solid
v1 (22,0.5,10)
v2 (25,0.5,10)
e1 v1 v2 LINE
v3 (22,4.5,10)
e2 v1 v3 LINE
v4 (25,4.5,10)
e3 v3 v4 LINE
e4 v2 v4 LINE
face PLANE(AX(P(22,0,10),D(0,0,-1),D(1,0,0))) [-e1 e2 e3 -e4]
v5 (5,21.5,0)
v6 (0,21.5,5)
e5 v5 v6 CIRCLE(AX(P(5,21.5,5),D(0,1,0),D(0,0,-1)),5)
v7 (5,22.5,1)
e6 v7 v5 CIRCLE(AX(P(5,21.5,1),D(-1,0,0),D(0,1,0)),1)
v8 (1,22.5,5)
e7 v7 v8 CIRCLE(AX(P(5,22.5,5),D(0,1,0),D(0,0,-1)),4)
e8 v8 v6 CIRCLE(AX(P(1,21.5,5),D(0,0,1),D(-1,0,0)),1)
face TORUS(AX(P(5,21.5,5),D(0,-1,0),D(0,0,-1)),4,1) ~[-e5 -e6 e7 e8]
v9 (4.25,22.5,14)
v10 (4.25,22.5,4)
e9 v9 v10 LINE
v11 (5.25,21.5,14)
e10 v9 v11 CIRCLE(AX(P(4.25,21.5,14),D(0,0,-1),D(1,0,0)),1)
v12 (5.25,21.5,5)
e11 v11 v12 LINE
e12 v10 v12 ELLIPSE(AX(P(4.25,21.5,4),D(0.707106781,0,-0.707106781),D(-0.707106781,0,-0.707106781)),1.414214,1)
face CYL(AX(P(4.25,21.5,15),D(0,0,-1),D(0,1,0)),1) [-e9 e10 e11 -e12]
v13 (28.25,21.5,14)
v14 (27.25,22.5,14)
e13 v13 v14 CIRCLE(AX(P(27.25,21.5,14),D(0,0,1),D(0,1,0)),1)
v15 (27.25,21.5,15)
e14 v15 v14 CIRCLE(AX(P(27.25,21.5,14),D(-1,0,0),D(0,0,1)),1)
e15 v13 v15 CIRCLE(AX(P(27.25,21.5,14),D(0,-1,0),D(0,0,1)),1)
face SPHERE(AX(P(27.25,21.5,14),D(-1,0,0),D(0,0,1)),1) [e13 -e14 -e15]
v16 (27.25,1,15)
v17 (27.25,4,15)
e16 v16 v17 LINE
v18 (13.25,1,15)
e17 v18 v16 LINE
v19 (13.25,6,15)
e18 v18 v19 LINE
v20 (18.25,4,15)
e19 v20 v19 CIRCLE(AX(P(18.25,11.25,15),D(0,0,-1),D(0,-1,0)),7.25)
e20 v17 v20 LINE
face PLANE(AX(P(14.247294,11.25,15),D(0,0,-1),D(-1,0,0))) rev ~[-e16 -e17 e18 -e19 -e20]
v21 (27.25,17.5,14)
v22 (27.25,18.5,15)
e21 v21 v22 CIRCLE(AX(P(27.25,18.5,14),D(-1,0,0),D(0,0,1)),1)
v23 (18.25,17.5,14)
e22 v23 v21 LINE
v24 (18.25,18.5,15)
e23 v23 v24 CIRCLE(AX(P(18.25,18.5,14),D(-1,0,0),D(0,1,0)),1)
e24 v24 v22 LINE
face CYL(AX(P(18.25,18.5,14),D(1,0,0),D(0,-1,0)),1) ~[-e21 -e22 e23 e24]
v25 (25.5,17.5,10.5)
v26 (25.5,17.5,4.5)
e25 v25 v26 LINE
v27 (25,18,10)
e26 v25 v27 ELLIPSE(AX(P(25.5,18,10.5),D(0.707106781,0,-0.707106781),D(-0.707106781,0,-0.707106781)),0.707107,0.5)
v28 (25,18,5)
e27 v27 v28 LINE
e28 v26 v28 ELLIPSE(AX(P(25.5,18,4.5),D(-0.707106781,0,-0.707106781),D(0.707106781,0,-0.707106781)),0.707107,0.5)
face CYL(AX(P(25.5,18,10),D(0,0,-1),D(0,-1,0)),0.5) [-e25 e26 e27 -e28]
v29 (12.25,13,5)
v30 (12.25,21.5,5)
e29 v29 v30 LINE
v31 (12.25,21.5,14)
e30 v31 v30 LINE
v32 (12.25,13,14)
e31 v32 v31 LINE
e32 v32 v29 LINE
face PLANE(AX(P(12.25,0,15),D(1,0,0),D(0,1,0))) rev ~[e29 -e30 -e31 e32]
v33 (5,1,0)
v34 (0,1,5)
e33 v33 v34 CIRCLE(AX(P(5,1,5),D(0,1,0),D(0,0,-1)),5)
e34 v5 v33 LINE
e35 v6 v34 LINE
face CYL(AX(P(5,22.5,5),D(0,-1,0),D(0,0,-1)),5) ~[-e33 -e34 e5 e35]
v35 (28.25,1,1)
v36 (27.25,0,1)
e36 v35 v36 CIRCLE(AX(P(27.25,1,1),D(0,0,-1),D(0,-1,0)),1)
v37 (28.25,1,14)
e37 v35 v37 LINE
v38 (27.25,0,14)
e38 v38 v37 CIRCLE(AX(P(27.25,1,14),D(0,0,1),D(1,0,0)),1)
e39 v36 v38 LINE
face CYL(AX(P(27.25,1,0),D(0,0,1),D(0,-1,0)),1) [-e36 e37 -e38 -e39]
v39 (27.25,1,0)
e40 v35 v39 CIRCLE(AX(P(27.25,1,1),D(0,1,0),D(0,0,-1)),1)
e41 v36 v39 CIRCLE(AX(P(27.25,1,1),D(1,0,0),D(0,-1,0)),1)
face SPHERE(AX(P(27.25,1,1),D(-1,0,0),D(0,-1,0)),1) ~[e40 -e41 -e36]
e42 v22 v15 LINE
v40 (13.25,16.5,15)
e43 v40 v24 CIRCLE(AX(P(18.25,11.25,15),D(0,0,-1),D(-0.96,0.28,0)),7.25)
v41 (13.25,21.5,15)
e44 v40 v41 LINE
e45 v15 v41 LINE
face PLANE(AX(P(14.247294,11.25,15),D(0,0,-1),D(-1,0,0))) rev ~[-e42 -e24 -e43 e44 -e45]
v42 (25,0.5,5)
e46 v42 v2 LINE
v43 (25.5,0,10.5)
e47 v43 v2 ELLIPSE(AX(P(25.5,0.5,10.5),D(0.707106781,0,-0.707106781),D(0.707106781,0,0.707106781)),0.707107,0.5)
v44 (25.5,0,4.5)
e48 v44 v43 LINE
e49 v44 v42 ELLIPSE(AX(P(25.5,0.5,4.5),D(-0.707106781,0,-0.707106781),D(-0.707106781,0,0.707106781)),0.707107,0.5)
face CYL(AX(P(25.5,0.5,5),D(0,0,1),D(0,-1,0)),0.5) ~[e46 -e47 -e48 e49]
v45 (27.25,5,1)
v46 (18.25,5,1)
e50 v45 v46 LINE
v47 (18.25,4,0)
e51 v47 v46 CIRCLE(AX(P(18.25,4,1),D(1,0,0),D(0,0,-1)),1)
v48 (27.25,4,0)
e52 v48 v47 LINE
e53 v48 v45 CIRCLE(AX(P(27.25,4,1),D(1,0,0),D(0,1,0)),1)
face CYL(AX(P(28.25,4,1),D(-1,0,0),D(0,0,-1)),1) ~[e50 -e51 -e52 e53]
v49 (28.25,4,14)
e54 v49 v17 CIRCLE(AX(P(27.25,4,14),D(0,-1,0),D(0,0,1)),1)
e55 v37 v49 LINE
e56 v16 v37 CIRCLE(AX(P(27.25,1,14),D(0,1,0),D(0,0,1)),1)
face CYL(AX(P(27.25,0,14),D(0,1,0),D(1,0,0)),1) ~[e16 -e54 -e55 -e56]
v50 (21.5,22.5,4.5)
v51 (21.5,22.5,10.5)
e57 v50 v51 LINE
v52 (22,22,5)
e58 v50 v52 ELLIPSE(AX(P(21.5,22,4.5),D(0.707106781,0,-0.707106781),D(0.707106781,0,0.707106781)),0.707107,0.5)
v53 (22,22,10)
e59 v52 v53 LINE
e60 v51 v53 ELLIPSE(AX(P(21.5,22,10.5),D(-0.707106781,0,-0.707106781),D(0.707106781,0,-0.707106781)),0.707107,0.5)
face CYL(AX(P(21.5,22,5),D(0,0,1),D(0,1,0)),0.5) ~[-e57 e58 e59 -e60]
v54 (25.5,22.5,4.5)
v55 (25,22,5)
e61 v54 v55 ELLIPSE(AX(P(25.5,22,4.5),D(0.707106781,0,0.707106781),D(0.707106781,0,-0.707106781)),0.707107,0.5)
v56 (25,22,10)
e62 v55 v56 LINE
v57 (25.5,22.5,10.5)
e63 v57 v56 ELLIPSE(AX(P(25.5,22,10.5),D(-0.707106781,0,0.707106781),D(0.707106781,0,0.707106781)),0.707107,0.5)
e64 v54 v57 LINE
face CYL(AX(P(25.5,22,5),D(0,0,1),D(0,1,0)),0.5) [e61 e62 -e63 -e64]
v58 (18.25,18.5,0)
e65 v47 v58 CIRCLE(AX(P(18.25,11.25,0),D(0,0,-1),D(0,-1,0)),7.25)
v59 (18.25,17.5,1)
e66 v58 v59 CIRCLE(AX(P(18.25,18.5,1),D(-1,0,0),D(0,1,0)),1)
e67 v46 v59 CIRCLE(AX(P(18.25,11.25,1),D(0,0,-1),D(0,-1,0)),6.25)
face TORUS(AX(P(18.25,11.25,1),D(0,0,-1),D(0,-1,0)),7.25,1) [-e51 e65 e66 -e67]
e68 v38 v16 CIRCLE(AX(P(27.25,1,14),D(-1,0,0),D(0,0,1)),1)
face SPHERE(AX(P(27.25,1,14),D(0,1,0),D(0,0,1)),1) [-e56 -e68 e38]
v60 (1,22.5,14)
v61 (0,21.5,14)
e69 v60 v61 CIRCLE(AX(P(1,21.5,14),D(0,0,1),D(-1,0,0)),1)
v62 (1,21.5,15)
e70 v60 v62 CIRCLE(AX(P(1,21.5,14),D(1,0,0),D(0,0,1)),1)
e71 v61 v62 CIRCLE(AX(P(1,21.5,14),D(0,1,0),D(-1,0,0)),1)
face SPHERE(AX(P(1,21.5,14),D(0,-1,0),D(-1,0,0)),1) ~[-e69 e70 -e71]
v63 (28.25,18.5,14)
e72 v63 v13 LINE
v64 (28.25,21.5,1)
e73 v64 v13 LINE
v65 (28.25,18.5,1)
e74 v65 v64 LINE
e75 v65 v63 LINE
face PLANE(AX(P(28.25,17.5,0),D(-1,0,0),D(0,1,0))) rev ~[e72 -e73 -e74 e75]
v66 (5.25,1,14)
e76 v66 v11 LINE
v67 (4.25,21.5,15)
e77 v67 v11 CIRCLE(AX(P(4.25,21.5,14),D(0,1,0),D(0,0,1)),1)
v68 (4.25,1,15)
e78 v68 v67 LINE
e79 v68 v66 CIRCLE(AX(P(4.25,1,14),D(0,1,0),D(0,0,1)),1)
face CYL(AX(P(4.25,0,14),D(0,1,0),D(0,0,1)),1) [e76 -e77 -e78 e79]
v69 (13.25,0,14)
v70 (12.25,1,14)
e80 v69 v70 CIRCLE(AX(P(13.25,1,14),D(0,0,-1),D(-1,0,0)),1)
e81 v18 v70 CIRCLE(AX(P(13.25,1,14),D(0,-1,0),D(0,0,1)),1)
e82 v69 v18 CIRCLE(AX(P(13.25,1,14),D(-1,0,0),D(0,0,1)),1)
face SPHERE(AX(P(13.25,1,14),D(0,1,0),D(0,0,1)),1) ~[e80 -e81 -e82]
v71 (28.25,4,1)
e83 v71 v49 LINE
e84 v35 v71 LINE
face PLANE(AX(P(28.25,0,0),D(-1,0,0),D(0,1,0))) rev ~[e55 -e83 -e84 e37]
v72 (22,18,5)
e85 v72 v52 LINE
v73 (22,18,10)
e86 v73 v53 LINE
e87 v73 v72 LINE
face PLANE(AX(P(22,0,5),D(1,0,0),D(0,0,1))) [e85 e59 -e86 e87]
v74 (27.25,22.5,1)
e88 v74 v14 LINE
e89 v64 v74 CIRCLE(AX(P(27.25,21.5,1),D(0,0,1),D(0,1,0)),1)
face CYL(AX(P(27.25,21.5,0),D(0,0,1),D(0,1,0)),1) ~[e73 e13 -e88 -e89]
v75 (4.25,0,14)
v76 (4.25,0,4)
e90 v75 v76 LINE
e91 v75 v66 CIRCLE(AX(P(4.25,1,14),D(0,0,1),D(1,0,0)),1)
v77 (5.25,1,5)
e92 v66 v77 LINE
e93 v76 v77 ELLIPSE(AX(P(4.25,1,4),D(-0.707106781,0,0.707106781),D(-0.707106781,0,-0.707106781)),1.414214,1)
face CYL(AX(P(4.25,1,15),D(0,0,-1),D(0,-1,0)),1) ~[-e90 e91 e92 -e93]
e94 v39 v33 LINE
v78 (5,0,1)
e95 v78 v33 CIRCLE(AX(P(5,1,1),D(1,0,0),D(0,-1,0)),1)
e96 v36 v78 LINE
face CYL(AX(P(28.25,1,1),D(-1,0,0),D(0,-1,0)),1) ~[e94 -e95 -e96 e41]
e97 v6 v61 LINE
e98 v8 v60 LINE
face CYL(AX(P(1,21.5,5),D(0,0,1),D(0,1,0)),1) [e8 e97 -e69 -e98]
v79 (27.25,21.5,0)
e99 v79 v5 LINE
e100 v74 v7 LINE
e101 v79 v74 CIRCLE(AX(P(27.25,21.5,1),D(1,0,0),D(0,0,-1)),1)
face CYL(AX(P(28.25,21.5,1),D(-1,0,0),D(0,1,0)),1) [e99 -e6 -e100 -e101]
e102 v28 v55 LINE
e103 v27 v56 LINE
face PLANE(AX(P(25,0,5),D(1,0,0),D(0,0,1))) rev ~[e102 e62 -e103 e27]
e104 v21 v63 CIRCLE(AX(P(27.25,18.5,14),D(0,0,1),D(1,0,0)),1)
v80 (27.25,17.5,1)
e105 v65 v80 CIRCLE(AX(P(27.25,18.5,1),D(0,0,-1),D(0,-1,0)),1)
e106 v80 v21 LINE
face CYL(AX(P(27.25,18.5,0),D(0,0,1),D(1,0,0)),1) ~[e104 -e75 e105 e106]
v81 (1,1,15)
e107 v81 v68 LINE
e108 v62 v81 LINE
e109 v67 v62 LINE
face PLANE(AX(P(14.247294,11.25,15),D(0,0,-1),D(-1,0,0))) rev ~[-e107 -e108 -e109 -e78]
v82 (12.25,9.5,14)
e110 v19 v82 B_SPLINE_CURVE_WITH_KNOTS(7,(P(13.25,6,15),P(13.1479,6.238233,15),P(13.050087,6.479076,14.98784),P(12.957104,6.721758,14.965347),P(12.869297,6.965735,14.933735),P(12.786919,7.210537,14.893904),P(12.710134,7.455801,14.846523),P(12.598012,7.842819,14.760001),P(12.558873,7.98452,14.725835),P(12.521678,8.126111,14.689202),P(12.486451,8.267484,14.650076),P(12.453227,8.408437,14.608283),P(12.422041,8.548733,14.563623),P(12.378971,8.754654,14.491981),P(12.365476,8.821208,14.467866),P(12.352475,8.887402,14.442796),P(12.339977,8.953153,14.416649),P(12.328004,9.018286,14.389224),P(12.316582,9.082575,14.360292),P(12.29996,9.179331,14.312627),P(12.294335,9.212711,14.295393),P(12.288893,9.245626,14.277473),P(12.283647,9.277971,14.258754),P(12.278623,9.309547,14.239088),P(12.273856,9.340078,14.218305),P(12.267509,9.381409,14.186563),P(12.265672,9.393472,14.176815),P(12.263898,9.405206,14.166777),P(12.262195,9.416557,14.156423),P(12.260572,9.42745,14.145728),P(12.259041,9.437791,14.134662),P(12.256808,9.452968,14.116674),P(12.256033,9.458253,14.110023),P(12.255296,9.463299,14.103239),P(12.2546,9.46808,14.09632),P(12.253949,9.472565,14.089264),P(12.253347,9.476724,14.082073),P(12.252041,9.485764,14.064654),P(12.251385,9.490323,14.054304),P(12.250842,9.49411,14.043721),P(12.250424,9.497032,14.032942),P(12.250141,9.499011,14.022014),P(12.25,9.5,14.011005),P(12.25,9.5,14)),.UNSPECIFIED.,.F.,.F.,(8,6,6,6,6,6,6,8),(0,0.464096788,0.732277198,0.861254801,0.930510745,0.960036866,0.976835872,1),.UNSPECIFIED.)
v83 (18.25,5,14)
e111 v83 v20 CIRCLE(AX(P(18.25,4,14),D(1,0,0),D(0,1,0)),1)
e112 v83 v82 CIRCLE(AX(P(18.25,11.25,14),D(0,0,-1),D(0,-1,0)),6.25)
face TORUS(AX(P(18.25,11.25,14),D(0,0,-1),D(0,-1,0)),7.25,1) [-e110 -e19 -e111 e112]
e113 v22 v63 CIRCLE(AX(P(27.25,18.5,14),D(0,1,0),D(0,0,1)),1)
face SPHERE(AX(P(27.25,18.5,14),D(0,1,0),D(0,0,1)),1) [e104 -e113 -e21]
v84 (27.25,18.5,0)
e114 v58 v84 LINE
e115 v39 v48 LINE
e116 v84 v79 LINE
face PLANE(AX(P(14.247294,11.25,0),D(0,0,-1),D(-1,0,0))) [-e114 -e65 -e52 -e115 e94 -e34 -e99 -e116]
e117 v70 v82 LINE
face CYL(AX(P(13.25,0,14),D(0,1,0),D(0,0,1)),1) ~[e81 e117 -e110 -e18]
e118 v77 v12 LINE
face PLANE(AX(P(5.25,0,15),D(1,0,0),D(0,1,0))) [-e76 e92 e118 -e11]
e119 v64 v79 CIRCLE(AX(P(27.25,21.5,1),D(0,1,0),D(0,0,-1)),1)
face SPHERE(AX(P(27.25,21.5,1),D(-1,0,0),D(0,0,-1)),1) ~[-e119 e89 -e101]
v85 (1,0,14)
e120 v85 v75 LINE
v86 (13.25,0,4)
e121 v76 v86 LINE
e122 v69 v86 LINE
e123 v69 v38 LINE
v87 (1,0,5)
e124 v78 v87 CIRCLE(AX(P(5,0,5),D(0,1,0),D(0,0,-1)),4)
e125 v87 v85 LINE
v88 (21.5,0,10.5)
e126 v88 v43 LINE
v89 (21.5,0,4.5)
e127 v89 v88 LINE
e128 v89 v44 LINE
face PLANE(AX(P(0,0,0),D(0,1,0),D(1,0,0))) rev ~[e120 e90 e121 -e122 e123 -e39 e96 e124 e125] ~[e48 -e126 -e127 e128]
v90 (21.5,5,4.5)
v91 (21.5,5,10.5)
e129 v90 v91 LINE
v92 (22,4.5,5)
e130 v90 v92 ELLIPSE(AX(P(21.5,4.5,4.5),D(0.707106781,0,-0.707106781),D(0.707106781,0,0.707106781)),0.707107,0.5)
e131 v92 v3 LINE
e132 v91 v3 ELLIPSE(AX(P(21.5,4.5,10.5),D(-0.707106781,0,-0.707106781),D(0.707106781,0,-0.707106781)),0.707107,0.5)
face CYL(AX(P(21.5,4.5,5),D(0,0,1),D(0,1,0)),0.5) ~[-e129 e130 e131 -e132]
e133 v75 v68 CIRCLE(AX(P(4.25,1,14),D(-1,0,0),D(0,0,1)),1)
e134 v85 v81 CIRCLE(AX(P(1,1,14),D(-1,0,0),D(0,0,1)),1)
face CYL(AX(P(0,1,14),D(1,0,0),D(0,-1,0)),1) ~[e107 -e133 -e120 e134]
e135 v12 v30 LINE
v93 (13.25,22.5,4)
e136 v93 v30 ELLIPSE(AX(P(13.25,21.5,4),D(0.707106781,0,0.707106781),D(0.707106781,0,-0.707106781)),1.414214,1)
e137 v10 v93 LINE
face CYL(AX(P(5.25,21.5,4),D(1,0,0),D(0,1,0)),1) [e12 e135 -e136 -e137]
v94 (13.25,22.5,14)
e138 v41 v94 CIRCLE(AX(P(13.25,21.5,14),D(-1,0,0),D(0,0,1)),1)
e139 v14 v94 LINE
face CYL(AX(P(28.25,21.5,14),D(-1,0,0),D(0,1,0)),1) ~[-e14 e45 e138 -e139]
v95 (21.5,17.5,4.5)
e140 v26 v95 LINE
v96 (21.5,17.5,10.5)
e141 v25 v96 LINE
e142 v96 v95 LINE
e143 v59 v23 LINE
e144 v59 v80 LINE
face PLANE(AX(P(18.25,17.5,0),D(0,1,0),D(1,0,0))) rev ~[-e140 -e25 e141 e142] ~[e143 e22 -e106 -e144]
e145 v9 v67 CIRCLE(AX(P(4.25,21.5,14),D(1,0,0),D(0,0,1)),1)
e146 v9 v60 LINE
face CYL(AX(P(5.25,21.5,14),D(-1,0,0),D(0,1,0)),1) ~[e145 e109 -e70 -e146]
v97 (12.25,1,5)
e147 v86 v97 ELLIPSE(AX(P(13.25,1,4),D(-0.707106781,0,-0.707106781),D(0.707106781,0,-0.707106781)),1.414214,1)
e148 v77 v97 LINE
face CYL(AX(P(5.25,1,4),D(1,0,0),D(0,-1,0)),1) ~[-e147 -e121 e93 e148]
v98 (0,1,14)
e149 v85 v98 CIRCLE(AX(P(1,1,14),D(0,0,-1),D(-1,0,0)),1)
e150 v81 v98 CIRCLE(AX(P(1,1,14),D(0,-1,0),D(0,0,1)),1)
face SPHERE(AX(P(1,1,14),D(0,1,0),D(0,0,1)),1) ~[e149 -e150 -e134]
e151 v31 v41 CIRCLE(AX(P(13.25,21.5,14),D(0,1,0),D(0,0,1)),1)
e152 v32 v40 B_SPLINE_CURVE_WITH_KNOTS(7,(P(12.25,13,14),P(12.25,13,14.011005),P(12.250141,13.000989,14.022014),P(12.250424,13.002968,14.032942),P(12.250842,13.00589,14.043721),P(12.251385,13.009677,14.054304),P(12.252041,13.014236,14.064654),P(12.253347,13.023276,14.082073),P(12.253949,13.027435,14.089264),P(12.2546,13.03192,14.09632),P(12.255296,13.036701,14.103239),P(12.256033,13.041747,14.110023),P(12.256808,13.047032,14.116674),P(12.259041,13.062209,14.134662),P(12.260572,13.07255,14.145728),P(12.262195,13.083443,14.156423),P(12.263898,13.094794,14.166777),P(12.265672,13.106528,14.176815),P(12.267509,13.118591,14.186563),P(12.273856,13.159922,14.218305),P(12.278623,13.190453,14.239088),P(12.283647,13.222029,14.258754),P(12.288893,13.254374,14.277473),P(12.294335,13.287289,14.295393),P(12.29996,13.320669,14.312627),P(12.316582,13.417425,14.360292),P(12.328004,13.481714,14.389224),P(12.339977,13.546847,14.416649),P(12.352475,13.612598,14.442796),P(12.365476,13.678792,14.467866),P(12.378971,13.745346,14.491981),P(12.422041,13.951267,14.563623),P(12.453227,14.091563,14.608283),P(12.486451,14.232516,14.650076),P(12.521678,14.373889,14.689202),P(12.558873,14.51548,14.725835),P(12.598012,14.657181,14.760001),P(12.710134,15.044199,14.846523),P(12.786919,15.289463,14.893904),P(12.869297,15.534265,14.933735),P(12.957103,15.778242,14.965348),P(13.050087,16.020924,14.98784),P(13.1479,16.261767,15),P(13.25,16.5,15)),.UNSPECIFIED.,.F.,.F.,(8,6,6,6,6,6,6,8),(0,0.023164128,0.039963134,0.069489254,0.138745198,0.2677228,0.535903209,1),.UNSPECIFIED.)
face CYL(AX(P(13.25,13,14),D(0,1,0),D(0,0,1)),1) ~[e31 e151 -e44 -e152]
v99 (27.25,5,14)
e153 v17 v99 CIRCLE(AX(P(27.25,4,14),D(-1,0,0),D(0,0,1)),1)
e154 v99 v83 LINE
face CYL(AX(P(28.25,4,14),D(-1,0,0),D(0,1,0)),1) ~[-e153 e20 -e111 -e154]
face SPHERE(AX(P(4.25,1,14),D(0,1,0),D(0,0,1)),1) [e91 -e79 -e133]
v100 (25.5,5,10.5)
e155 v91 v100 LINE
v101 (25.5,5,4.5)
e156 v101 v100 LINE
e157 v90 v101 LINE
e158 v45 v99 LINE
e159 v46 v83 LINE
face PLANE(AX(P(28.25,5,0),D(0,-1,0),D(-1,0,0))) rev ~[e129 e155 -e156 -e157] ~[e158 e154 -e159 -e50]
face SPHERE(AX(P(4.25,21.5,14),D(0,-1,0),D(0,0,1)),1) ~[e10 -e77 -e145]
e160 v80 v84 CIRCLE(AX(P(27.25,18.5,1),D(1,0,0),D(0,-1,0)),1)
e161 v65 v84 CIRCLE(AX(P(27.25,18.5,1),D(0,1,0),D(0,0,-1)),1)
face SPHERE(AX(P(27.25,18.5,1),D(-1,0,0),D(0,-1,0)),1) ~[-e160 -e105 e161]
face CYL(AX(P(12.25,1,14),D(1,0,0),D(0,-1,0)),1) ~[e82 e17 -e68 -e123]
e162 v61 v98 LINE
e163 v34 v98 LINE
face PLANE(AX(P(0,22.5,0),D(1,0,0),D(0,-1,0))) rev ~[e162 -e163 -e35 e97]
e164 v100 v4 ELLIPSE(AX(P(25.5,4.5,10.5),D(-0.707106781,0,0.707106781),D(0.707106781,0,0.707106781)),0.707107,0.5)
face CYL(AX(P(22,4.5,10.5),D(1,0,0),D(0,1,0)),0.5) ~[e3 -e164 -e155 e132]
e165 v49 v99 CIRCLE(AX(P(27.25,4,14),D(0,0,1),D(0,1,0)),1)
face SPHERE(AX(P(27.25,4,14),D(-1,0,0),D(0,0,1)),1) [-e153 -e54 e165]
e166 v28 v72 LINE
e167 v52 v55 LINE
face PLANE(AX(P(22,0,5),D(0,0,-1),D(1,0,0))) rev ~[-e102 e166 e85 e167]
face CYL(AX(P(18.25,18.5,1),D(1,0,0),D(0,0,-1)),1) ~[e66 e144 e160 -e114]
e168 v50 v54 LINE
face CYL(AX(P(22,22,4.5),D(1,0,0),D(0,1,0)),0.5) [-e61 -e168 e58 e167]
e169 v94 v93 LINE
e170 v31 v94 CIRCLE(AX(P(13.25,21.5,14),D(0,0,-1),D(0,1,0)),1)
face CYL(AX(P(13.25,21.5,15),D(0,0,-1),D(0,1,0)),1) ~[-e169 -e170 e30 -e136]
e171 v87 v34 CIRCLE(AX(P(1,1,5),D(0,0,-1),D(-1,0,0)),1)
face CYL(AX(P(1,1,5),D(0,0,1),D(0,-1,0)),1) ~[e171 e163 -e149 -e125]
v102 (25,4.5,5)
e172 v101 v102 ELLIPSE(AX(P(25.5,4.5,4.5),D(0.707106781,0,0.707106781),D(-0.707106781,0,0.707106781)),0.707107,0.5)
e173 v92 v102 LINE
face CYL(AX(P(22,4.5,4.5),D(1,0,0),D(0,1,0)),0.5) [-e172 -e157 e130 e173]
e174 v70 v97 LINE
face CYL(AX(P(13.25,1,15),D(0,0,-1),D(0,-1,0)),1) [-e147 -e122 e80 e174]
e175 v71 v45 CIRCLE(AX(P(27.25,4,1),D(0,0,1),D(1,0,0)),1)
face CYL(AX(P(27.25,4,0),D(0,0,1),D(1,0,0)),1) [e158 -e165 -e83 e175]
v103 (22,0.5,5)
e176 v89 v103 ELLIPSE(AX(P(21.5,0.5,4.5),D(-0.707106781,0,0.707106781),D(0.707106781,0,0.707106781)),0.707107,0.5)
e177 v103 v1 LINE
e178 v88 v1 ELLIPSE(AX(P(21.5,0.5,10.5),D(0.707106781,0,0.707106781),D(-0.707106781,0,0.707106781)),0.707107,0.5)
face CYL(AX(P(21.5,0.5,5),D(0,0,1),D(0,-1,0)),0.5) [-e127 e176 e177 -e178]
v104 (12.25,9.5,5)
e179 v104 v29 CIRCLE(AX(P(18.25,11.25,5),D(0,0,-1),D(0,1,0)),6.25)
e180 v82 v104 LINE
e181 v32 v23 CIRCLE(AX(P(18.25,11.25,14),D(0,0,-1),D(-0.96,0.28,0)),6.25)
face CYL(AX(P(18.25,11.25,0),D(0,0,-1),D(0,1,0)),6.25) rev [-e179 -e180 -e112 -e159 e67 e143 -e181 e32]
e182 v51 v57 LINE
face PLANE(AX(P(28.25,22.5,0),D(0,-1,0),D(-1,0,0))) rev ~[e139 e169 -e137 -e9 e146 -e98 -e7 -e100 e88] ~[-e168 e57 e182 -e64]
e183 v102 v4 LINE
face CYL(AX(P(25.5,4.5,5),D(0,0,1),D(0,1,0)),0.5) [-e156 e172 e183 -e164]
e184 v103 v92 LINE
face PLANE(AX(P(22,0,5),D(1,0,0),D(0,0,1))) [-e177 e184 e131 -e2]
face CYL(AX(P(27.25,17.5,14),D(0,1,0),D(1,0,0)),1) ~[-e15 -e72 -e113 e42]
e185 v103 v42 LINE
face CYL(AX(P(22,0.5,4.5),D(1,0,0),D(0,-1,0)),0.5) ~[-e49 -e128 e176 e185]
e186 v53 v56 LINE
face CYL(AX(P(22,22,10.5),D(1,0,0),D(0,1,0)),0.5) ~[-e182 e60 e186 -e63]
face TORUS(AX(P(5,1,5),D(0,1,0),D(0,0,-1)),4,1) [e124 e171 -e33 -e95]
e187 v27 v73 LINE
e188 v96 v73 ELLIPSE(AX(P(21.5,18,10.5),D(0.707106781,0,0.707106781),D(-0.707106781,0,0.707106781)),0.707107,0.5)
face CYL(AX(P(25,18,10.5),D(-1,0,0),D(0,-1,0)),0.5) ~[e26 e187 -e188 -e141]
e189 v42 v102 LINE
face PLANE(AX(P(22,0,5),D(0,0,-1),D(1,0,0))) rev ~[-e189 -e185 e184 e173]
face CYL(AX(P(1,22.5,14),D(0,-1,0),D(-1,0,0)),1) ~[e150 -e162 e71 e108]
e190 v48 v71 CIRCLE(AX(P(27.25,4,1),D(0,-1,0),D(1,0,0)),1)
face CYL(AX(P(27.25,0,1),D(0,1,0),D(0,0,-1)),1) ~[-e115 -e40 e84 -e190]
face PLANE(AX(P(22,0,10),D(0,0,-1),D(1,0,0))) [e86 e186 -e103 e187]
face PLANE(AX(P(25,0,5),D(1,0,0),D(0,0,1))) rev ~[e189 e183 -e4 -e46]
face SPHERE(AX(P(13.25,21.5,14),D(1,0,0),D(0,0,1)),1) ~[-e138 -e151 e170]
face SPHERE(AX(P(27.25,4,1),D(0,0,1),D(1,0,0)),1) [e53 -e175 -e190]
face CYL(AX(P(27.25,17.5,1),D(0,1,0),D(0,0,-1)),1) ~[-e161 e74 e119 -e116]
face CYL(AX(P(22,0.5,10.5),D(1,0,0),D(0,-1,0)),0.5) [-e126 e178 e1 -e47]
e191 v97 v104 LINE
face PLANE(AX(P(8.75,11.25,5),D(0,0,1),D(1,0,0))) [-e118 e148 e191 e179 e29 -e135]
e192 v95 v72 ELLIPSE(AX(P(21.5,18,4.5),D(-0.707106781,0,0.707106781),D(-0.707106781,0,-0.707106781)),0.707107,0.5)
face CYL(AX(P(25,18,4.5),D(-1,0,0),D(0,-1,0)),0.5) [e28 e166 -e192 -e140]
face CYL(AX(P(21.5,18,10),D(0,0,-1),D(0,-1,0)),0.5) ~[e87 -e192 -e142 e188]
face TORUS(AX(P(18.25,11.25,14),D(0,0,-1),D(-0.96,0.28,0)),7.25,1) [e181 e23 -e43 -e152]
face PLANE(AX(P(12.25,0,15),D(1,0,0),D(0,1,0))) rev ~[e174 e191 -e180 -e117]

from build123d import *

# Parameters (mm, degrees)
PAD_DEPTH       = 15
SKETCH001_W     = 7
SKETCH001_H     = 22.5
POCKET_DEPTH    = 10
SKETCH003_W     = 3
SKETCH003_H     = 5
POCKET001_DEPTH = 22.501
FILLET_R        = 5
FILLET001_R     = 1
FILLET002_R     = 0.5


with BuildPart() as part:
    # Sketch → Pad (new body)
    with BuildSketch(Plane.XY):
        with BuildLine():
            ThreePointArc((18.25, 17.5), (12, 11.25), (18.25, 5))
            Line((28.25, 5), (18.25, 5))
            Line((28.25, 0), (28.25, 5))
            Line((0, 0), (28.25, 0))
            Line((0, 22.5), (0, 0))
            Line((28.25, 22.5), (0, 22.5))
            Line((28.25, 17.5), (28.25, 22.5))
            Line((18.25, 17.5), (28.25, 17.5))
        make_face()
    extrude(amount=PAD_DEPTH)

    # Sketch001 (on Face10 of Pad) → Pocket (cut)
    with BuildSketch(Plane.XY.offset(15)):
        with Locations((8.75, 11.25)):
            Rectangle(SKETCH001_W, SKETCH001_H)
    extrude(amount=-POCKET_DEPTH, mode=Mode.SUBTRACT)

    # Sketch003 → Pocket001 (cut, through all)
    with BuildSketch(Plane.XZ):
        with Locations((23.5, 7.5)):
            Rectangle(SKETCH003_W, SKETCH003_H)
    extrude(amount=-POCKET001_DEPTH, mode=Mode.SUBTRACT)

    # Fillet
    fillet_edges = [part.edges().sort_by_distance(p)[0] for p in [
        (0, 11.25, 0),
    ]]
    fillet(fillet_edges, radius=FILLET_R)

    # Fillet001
    fillet001_edges = [part.edges().sort_by_distance(p)[0] for p in [
        (0, 11.25, 15),
        (5.25, 11.25, 15),
        (2.625, 0, 15),
        (0, 0, 10),
        (0, 22.5, 10),
        (2.625, 22.5, 15),
        (20.25, 22.5, 15),
        (28.25, 20, 15),
        (23.25, 17.5, 15),
        (14.5, 16.25, 15),
        (12.25, 17.75, 15),
        (12.25, 4.75, 15),
        (23.25, 5, 15),
        (14.5, 6.25, 15),
        (28.25, 2.5, 15),
        (20.25, 0, 15),
        (28.25, 0, 7.5),
        (16.625, 0, 0),
        (1.464466, 0, 1.464466),
        (5.25, 0, 10),
        (8.75, 0, 5),
        (12.25, 0, 10),
        (12.25, 22.5, 10),
        (5.25, 22.5, 10),
        (8.75, 22.5, 5),
        (16.625, 22.5, 0),
        (1.464466, 22.5, 1.464466),
        (28.25, 5, 7.5),
        (28.25, 2.5, 0),
        (23.25, 5, 0),
        (12, 11.25, 0),
        (28.25, 17.5, 7.5),
        (28.25, 20, 0),
        (28.25, 22.5, 7.5),
        (23.25, 17.5, 0),
    ]]
    fillet(fillet001_edges, radius=FILLET001_R)

    # Fillet002
    fillet002_edges = [part.edges().sort_by_distance(p)[0] for p in [
        (25, 0, 7.5),
        (23.5, 0, 5),
        (22, 0, 7.5),
        (23.5, 0, 10),
        (23.5, 17.5, 10),
        (25, 17.5, 7.5),
        (23.5, 17.5, 5),
        (22, 17.5, 7.5),
        (25, 5, 7.5),
        (23.5, 5, 10),
        (22, 5, 7.5),
        (23.5, 5, 5),
        (23.5, 22.5, 10),
        (22, 22.5, 7.5),
        (23.5, 22.5, 5),
        (25, 22.5, 7.5),
    ]]
    fillet(fillet002_edges, radius=FILLET002_R)


solid = part.part
